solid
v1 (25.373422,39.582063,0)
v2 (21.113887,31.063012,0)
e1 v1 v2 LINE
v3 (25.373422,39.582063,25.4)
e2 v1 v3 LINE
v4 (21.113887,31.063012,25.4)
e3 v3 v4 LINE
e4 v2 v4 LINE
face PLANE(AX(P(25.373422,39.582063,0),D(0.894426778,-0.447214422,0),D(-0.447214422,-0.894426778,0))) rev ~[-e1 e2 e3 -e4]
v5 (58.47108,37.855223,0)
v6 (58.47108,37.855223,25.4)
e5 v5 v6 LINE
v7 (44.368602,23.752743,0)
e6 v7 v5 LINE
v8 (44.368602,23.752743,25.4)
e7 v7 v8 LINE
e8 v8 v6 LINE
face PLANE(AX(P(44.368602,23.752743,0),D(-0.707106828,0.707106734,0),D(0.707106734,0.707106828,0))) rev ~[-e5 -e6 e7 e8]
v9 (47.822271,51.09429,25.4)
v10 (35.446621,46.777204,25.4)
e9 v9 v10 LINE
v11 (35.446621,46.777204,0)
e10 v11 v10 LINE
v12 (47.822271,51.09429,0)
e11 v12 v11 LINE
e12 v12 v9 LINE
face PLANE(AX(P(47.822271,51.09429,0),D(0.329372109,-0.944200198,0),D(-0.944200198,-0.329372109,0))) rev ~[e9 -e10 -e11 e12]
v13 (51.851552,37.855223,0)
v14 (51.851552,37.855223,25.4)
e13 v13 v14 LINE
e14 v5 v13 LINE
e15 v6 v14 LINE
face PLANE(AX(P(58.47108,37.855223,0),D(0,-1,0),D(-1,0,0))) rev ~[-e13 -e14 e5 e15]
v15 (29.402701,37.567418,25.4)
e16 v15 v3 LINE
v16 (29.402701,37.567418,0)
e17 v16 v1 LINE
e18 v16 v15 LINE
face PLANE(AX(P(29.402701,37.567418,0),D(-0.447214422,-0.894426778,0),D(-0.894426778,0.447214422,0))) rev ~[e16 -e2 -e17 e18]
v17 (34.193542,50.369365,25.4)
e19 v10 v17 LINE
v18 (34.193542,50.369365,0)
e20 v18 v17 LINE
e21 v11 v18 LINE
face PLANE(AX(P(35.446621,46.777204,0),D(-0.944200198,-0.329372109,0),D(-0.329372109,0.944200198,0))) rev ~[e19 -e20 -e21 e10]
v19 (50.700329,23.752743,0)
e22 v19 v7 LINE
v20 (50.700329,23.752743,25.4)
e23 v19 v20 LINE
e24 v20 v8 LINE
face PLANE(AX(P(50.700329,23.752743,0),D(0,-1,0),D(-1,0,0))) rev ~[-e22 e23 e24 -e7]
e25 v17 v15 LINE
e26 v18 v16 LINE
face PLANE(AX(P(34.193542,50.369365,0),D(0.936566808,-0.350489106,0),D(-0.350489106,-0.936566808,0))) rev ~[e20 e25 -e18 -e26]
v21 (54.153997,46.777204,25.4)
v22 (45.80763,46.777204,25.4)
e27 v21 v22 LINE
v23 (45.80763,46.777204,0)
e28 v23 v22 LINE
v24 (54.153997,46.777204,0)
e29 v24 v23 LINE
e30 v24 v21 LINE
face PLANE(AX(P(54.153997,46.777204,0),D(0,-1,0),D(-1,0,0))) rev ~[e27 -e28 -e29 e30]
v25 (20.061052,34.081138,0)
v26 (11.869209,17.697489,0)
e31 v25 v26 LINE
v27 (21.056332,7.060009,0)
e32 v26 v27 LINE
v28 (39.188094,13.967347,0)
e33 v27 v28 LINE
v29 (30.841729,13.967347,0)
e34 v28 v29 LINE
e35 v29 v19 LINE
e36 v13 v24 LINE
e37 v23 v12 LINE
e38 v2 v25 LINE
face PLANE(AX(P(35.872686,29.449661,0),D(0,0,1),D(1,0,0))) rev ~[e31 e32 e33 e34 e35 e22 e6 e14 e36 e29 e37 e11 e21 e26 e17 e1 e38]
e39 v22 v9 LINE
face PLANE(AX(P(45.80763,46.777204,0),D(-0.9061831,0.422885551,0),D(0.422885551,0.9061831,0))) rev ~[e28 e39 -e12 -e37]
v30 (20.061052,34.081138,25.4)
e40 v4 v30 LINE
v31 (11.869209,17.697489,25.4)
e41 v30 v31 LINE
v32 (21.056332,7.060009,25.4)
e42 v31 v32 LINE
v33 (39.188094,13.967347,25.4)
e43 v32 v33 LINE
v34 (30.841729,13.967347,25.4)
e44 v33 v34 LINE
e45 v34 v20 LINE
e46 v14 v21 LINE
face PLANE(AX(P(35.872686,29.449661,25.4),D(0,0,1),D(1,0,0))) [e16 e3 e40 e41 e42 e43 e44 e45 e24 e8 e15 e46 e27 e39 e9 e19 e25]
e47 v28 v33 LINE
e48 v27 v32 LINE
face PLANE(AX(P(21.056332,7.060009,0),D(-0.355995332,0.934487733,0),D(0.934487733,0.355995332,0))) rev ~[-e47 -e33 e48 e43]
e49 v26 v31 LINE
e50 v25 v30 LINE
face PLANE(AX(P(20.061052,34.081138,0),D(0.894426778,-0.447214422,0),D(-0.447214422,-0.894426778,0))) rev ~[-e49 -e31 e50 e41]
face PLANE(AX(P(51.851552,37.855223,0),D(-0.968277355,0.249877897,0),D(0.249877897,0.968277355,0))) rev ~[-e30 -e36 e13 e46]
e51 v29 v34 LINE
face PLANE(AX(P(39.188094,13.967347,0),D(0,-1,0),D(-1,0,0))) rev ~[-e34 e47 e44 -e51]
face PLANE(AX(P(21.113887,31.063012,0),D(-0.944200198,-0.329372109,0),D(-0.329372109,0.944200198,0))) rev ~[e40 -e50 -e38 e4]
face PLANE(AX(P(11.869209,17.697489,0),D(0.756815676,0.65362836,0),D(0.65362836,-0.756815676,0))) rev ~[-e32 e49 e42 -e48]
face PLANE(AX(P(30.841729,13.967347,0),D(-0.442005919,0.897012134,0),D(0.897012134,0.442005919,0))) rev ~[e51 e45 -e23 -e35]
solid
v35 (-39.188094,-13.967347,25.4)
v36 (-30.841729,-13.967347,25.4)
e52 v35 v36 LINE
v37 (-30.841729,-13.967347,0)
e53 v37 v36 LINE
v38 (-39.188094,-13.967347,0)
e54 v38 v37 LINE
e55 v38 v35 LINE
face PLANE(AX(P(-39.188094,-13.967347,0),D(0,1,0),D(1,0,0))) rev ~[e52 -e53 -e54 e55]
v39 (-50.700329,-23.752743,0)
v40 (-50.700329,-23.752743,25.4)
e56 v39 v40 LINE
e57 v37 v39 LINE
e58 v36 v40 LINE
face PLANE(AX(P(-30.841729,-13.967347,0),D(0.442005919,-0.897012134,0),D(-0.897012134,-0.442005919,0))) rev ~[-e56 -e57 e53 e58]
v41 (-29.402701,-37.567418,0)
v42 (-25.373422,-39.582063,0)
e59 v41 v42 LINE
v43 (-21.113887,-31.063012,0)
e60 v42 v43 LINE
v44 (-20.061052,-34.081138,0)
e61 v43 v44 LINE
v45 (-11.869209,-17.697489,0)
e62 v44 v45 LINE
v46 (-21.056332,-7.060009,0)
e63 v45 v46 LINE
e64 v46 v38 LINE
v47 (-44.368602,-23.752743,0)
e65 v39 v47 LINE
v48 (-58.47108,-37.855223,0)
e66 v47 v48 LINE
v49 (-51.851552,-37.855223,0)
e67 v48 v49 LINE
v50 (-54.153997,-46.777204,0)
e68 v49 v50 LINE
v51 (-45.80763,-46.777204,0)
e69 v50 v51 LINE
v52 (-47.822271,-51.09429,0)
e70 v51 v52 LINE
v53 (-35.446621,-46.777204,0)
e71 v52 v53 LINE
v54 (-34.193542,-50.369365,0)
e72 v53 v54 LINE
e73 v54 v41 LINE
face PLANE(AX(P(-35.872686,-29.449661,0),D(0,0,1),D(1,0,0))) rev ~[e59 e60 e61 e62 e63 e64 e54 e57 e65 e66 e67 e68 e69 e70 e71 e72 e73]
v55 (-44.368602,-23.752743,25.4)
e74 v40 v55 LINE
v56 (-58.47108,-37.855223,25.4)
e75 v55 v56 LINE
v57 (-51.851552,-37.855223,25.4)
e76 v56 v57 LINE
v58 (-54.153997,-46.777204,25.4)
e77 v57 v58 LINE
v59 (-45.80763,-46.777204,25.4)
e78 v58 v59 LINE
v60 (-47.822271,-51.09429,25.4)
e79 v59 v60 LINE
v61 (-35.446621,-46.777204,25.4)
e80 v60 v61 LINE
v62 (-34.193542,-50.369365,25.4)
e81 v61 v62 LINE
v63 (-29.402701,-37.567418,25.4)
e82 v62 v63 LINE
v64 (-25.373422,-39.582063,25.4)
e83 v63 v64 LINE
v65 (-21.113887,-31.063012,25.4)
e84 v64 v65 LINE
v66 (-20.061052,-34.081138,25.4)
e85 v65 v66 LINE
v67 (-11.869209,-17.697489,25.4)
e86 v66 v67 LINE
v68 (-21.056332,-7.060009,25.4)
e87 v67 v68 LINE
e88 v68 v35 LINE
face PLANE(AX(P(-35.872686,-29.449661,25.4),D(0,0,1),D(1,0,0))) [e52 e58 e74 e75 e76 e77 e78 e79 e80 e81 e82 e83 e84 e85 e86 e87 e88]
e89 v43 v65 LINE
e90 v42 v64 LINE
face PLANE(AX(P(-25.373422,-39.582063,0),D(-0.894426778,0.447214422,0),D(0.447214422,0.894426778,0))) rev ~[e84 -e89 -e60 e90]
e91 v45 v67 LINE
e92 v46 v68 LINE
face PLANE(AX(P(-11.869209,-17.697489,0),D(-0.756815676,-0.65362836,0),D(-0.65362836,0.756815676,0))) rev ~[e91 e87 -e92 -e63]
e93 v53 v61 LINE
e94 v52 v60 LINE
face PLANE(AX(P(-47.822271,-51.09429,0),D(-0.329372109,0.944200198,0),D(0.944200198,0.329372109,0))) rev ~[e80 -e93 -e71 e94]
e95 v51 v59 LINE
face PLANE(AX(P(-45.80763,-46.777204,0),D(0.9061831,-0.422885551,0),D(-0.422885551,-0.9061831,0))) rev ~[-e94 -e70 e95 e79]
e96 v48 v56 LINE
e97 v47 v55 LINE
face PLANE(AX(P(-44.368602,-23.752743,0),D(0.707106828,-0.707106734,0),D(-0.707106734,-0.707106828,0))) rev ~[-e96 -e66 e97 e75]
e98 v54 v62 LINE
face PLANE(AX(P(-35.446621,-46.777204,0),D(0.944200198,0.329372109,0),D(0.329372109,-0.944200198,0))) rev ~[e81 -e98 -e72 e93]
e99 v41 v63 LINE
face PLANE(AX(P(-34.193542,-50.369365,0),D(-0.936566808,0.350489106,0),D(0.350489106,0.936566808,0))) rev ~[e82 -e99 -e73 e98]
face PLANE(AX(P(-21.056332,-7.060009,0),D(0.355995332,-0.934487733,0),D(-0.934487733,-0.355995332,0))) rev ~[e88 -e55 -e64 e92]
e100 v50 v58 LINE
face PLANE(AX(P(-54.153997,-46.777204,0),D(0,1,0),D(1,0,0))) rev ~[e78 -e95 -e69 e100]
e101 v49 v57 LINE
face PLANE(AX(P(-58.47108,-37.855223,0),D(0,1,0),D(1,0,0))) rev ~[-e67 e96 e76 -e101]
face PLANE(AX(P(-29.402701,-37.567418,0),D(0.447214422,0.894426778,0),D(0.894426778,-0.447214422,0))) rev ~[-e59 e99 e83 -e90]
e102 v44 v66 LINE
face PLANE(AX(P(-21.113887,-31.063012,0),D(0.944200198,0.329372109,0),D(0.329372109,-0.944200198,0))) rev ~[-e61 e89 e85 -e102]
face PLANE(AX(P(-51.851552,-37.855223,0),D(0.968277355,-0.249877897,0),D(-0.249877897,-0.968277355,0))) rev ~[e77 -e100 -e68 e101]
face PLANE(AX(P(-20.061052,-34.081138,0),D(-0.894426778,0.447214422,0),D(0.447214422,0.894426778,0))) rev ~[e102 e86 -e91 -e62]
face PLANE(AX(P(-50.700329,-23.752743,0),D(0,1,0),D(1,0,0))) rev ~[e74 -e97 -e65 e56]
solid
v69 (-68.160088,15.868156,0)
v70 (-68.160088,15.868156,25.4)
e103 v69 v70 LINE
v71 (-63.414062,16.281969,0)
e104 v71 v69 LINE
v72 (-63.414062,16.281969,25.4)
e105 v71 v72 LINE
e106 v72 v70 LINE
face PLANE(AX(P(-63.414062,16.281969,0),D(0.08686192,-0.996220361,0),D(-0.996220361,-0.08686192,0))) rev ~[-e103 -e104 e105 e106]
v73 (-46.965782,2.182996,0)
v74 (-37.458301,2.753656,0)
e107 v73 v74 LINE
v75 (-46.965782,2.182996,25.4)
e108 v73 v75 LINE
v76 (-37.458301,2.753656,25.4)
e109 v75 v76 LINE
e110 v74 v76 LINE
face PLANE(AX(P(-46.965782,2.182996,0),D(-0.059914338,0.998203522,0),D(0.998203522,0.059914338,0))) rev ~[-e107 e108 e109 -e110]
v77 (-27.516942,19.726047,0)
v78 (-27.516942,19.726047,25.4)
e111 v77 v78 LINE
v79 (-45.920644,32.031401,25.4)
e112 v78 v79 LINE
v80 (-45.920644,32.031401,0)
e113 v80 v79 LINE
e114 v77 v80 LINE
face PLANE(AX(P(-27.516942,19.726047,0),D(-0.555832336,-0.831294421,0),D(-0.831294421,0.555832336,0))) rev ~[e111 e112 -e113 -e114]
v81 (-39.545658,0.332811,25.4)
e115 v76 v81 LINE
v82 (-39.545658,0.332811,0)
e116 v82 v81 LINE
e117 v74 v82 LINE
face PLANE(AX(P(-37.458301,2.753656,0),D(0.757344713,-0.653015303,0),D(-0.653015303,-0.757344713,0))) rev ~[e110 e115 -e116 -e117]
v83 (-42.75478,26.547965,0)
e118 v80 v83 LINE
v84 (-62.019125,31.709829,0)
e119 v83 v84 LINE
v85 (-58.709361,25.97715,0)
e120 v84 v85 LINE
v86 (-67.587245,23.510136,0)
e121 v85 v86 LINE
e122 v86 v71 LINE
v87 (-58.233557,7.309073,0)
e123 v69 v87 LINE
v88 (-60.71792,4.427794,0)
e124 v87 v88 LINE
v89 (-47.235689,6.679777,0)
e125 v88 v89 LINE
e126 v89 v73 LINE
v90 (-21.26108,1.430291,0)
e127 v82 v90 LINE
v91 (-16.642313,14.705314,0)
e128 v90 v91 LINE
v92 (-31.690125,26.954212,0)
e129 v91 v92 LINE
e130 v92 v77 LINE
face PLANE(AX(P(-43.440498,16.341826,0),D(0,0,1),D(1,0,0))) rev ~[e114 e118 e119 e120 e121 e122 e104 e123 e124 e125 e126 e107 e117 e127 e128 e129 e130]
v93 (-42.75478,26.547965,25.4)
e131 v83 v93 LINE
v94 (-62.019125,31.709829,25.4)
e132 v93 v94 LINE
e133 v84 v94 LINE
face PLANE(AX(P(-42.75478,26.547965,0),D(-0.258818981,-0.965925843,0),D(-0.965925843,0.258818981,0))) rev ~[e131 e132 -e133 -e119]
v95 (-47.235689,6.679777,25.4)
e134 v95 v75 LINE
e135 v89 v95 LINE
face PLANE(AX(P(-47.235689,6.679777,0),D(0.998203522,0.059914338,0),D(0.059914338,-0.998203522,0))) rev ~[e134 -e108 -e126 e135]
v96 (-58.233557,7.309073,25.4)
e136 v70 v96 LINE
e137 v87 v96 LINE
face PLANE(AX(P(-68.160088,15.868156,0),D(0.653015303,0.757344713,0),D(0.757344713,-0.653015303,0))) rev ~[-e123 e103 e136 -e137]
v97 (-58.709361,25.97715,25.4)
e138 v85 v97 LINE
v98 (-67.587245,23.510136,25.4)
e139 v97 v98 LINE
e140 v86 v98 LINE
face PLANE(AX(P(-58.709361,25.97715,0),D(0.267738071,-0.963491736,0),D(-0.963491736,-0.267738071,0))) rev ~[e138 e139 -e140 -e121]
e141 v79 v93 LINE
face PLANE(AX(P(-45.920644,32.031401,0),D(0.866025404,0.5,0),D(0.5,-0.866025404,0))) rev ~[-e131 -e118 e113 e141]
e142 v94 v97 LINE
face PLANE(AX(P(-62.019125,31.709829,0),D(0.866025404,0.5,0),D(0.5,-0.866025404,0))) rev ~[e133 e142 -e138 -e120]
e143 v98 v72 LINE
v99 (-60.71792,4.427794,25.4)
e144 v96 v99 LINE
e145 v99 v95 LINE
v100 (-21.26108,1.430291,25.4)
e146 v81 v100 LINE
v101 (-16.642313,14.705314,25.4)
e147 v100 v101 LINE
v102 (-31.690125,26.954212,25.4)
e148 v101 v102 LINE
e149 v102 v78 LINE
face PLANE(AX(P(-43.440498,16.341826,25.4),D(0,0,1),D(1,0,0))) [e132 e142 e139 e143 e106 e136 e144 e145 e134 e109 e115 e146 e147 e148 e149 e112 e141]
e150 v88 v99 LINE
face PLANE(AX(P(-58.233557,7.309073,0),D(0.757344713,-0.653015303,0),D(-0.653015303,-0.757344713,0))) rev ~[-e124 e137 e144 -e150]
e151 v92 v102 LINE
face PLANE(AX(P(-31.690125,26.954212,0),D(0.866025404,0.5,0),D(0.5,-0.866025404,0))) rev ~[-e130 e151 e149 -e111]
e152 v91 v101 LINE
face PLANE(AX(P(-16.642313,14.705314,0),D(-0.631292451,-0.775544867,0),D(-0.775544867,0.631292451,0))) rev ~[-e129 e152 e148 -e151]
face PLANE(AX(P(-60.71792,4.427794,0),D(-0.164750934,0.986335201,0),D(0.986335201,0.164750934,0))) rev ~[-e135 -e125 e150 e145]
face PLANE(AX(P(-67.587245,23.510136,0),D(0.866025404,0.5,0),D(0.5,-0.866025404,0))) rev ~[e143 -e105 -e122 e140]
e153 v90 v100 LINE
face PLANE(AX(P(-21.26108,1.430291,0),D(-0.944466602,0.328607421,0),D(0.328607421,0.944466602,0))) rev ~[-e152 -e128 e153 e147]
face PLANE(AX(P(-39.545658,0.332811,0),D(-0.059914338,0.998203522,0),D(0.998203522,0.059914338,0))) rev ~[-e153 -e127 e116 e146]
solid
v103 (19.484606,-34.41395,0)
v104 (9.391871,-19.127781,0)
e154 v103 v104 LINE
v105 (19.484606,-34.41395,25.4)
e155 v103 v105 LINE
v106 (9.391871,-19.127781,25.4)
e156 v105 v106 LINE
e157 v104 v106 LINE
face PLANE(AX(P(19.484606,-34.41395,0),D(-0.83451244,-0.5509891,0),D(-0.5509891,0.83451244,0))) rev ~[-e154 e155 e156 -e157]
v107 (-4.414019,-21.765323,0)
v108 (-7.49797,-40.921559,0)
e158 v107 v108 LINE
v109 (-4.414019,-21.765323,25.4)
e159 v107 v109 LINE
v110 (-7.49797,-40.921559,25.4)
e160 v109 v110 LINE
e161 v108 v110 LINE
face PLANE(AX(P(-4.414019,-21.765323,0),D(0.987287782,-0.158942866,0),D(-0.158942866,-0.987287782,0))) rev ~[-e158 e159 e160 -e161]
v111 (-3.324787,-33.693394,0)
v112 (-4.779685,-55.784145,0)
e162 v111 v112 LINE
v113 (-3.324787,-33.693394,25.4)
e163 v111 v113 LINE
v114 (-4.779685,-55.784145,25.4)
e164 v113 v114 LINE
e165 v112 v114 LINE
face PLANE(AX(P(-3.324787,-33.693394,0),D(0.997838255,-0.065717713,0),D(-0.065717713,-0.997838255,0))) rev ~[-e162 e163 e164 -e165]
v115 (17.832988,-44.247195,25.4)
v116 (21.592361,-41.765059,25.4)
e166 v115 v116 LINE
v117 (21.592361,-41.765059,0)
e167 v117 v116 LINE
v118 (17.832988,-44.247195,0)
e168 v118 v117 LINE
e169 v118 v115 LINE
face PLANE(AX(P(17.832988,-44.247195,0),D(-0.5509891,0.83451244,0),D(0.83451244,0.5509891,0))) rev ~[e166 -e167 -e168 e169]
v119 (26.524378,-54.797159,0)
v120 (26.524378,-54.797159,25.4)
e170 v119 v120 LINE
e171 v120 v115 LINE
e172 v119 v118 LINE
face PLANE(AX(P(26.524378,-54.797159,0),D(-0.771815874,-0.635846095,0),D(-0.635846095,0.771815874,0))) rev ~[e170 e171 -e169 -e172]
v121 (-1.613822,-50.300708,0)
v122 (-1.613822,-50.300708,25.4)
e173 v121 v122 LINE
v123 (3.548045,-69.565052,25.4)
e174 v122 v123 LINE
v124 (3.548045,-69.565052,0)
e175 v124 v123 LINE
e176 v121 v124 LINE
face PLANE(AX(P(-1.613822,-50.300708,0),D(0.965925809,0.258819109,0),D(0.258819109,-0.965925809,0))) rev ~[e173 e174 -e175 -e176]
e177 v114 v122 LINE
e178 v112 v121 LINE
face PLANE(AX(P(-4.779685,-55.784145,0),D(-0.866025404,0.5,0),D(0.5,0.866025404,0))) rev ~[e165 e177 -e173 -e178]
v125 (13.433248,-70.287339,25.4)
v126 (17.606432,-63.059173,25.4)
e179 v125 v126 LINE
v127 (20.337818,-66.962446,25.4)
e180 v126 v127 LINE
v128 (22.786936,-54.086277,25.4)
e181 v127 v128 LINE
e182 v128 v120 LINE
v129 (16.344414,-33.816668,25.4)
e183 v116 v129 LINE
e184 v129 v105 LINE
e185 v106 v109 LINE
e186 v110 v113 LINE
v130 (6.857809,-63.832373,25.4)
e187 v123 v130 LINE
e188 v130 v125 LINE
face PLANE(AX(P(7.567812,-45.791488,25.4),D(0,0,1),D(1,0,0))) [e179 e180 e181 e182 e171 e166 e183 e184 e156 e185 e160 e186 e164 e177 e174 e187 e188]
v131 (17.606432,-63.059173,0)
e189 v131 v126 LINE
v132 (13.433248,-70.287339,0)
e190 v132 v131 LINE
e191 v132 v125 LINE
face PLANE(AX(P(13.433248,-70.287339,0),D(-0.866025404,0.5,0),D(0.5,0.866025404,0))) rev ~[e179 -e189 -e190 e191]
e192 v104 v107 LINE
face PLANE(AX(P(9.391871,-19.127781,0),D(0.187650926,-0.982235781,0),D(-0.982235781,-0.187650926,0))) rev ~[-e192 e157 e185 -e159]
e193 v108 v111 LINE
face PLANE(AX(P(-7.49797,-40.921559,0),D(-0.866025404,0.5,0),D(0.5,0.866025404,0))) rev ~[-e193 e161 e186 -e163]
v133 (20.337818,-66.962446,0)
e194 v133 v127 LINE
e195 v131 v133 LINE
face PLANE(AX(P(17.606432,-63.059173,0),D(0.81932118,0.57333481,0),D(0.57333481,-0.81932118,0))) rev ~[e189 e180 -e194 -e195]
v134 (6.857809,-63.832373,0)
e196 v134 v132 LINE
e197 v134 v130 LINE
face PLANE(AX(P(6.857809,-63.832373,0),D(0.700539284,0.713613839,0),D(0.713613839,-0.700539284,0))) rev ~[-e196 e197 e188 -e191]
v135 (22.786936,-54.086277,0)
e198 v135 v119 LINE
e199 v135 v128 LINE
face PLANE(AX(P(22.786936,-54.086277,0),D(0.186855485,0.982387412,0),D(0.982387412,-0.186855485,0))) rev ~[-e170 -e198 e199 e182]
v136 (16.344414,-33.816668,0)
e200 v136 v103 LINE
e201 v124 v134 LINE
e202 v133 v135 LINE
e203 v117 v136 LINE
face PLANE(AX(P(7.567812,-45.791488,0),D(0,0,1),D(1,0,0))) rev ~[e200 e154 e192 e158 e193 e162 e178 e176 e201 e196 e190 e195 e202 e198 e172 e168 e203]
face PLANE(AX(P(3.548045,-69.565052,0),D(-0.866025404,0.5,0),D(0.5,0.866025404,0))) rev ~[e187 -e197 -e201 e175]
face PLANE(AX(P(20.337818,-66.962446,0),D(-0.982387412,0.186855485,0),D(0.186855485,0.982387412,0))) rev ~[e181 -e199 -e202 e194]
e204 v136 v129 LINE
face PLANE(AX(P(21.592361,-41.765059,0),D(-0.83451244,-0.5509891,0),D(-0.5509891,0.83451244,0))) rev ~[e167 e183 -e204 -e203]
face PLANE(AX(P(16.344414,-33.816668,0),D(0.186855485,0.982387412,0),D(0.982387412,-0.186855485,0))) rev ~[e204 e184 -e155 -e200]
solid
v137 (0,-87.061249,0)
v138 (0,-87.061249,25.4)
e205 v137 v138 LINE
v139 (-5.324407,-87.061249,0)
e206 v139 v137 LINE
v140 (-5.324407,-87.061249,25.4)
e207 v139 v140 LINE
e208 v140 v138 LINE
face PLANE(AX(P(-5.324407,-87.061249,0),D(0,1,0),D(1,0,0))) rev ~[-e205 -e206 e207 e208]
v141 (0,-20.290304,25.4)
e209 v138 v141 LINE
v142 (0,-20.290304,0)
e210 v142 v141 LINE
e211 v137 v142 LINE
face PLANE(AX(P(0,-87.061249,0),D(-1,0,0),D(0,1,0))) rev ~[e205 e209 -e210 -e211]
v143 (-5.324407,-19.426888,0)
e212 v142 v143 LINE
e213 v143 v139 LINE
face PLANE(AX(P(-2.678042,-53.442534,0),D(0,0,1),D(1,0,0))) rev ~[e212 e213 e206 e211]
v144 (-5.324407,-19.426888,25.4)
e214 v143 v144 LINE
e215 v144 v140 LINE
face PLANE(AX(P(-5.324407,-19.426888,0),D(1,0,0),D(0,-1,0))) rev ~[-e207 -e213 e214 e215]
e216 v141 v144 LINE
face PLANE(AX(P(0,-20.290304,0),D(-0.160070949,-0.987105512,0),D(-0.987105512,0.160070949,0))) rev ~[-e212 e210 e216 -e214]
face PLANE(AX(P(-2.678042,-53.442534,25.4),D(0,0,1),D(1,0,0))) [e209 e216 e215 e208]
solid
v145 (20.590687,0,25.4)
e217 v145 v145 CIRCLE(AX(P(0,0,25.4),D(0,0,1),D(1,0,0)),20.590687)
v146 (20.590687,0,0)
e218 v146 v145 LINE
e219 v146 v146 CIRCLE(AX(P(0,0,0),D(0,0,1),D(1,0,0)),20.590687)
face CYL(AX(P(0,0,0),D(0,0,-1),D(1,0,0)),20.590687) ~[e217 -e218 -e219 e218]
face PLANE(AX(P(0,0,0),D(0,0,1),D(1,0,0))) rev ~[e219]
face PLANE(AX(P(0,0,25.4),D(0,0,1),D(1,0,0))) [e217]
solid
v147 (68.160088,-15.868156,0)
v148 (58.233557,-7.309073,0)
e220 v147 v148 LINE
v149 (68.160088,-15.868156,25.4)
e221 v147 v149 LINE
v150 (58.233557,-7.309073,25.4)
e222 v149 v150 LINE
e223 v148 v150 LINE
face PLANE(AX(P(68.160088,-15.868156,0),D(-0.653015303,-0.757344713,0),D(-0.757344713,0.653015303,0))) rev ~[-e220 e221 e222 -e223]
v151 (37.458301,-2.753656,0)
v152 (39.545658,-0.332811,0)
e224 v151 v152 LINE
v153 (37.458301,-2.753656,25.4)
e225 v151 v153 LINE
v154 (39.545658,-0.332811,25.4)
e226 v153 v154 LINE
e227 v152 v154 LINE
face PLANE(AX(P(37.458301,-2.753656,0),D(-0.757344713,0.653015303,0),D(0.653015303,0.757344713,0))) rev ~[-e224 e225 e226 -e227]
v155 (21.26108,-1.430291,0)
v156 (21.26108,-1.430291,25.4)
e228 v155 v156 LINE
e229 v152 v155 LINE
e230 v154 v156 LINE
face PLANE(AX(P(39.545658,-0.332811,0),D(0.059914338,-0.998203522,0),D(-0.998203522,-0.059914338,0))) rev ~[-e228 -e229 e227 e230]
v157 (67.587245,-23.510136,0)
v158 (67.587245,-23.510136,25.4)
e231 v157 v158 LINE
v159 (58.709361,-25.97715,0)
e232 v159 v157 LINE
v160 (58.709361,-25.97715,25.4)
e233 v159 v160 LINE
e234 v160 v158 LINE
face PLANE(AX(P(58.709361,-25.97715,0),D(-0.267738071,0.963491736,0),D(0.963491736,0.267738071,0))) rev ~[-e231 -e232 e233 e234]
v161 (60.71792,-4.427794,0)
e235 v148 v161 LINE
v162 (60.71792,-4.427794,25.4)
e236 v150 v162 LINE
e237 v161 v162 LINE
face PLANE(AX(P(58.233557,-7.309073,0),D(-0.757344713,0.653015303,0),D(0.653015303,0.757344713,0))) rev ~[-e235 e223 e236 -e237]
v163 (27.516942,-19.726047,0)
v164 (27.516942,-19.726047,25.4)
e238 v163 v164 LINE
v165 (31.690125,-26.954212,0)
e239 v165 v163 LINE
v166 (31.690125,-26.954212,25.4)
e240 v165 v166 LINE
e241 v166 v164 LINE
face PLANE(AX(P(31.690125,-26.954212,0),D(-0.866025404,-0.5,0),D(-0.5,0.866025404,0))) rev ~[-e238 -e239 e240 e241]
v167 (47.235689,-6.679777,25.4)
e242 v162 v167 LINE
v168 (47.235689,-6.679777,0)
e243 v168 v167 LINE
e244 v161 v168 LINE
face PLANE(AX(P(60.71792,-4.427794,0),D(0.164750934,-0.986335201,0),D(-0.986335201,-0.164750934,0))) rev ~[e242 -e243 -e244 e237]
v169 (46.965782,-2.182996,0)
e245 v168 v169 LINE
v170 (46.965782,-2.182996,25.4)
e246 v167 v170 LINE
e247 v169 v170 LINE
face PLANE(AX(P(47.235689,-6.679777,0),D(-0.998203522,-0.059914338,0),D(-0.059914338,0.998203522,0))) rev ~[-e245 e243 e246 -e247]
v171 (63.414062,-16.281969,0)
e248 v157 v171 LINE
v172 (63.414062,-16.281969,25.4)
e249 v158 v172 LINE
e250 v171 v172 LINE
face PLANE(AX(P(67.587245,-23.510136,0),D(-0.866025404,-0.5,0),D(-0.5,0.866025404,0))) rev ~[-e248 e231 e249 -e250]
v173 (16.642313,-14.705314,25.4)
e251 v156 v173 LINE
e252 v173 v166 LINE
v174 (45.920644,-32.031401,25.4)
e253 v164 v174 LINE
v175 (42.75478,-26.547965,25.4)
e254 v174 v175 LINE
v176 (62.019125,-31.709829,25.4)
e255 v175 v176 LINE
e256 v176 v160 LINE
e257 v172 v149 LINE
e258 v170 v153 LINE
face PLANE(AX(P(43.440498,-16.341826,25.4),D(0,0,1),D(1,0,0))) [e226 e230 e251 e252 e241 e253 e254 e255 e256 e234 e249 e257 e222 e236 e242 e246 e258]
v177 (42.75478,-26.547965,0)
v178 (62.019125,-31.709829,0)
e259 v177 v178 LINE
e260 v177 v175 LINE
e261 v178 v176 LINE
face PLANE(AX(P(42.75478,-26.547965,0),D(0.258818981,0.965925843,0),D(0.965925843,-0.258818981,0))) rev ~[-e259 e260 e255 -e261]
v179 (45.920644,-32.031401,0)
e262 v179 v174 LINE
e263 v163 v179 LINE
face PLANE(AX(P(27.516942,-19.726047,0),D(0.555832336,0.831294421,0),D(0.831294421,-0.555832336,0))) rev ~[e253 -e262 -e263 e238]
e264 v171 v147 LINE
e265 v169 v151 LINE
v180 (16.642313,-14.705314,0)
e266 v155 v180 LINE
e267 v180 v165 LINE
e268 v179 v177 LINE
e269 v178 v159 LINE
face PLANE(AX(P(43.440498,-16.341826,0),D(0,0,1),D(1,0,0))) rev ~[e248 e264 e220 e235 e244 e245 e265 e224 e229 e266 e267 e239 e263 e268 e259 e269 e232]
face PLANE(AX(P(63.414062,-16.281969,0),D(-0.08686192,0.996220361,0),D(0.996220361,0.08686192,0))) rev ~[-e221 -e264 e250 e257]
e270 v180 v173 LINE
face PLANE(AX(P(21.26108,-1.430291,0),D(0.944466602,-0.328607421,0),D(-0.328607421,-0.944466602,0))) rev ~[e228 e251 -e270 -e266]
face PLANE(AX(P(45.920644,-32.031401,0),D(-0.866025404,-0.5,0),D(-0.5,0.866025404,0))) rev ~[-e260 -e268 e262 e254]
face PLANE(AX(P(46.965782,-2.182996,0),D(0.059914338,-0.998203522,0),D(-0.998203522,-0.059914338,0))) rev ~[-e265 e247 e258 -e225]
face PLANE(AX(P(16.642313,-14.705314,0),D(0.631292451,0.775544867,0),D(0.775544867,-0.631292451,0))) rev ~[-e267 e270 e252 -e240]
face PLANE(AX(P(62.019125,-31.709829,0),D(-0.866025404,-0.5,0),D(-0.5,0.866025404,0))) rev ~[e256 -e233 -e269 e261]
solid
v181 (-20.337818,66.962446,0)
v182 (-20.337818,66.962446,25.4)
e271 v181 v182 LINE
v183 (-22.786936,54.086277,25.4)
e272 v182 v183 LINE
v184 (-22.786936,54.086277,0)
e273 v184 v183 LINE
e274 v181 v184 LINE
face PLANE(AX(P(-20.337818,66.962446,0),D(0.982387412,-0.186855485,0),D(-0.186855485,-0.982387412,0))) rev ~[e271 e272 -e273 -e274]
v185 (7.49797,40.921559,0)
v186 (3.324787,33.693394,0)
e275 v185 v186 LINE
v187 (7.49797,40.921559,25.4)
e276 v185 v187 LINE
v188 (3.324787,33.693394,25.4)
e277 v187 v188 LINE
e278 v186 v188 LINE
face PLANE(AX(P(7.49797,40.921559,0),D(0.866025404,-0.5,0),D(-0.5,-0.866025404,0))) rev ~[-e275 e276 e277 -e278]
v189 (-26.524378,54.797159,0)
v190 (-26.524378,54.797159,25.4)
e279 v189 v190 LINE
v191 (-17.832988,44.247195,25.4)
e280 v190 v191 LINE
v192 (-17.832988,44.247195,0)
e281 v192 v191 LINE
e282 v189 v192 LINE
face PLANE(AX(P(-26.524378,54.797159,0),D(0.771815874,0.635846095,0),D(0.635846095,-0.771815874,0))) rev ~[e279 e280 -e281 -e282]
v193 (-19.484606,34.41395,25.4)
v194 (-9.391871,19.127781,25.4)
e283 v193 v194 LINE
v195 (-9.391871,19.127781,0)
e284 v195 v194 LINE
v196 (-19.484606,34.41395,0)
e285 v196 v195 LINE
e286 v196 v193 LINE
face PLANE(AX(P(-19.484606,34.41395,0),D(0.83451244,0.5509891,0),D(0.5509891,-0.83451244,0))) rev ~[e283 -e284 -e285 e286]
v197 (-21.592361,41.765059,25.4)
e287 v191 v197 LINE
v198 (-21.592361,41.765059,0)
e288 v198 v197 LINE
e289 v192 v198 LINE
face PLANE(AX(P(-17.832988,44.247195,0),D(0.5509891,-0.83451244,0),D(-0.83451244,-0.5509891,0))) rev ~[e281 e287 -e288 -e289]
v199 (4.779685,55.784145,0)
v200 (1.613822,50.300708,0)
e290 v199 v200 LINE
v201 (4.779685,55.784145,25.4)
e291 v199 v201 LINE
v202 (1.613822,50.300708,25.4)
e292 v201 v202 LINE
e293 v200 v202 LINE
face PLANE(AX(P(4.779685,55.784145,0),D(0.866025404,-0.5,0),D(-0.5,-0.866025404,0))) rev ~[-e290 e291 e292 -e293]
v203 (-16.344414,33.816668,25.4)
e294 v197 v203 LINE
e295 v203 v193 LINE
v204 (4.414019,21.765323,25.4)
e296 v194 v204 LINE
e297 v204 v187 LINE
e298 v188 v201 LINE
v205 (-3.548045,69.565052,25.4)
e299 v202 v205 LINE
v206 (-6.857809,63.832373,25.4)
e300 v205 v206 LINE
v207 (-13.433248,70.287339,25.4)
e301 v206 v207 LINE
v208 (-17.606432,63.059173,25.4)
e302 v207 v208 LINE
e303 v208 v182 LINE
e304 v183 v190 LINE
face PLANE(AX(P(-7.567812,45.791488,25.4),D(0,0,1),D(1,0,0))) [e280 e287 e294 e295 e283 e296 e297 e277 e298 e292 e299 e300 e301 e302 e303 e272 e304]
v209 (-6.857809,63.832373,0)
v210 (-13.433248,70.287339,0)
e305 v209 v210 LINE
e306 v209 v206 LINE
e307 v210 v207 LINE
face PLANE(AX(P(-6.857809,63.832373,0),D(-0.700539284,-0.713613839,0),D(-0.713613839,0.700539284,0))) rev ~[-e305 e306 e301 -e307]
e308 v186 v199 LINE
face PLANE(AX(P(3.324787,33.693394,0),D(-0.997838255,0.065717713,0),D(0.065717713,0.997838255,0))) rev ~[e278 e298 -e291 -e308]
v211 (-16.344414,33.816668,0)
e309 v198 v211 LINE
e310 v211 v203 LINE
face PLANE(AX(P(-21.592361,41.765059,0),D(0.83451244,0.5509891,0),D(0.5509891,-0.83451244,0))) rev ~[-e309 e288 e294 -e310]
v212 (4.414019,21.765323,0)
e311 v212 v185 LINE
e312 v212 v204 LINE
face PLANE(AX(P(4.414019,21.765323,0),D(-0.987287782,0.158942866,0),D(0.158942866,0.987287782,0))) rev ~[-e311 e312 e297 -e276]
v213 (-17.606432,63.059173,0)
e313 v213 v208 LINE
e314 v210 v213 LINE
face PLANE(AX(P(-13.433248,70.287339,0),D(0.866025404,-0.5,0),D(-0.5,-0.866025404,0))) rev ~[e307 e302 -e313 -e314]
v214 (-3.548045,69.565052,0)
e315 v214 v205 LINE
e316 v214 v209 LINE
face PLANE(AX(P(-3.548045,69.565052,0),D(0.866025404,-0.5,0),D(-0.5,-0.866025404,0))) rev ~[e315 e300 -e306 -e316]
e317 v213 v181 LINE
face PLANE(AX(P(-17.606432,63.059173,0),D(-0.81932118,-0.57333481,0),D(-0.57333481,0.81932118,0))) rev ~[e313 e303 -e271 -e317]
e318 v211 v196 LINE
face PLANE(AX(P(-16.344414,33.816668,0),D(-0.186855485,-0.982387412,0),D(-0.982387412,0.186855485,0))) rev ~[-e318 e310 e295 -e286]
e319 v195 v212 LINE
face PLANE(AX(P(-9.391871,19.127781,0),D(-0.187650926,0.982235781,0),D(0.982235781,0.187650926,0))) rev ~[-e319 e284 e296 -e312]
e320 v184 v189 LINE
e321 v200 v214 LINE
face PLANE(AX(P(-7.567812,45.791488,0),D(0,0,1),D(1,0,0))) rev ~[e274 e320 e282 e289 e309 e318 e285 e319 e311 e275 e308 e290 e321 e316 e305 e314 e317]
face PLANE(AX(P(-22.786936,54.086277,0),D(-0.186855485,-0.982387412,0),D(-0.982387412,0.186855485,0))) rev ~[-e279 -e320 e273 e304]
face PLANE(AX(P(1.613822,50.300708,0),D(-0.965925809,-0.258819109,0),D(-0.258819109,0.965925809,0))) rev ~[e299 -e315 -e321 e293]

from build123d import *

# Parameters (mm, degrees)
F2_DEPTH = 25.4
F0_R     = 20.5906873936
F4_DEPTH = 25.4


with BuildPart() as f2:
    # F1 (on Top) → F2 (new body)
    with BuildSketch(Plane.XY):
        Polygon((-17.83298781, 44.2471951997), (-21.5923608654, 41.765058951), (-16.3444144081, 33.8166683183), (-19.4846056894, 34.4139499588), (-9.3918710847, 19.1277808177), (4.4140186546, 21.765322685), (7.4979696061, 40.9215589741), (3.3247867238, 33.6933941926), (4.7796854469, 55.7841447948), (1.6138219926, 50.3007084421), (-3.5480446712, 69.5650520044), (-6.8578086392, 63.8323726508), (-13.4332479786, 70.2873393486), (-17.6064317922, 63.059172954), (-20.3378177437, 66.9624460909), (-22.7869359653, 54.0862765175), (-26.5243781157, 54.7971585558), align=None)
    extrude(amount=F2_DEPTH)


with BuildPart() as f2b:
    # F1 (on Top) → F2, piece 2 (new body)
    with BuildSketch(Plane.XY):
        Polygon((-47.2356889941, 6.679777131), (-46.9657824748, 2.1829964384), (-37.4583010391, 2.7536560717), (-39.5456577536, 0.3328114697), (-21.2610796485, 1.4302914604), (-16.6423130395, 14.7053136302), (-31.690124831, 26.9542116428), (-27.5169419486, 19.7260468612), (-45.9206437972, 32.0314014165), (-42.7547803429, 26.5479650638), (-62.019124587, 31.7098291831), (-58.709360619, 25.9771498295), (-67.5872454296, 23.5101356696), (-63.4140616159, 16.2819692749), (-68.1600882861, 15.8681562218), (-58.2335574429, 7.3090728384), (-60.7179204224, 4.4277940102), align=None)
    extrude(amount=F2_DEPTH)


with BuildPart() as f2c:
    # F1 (on Top) → F2, piece 3 (new body)
    with BuildSketch(Plane.XY):
        Polygon((11.8692085638, 17.6974893572), (21.0563316941, 7.0600090548), (39.1880944371, 13.9673473313), (30.8417286724, 13.9673473313), (50.7003292441, 23.7527433783), (44.3686023355, 23.7527433783), (58.4710799158, 37.8552228212), (51.8515519798, 37.8552228212), (54.1539974511, 46.7772036791), (45.8076298237, 46.7772036791), (47.8222705424, 51.0942898691), (35.4466214776, 46.7772036791), (34.1935423067, 50.3693645457), (29.4027011842, 37.5674180686), (25.3734216094, 39.5820625126), (21.113886631, 31.0630122466), (20.0610520642, 34.0811384892), align=None)
    extrude(amount=F2_DEPTH)


with BuildPart() as f2d:
    # F1 (on Top) → F2, piece 4 (new body)
    with BuildSketch(Plane.XY):
        Polygon((47.2356889941, -6.679777131), (46.9657824748, -2.1829964384), (37.4583010391, -2.7536560717), (39.5456577536, -0.3328114697), (21.2610796485, -1.4302914604), (16.6423130395, -14.7053136302), (31.690124831, -26.9542116428), (27.5169419486, -19.7260468612), (45.9206437972, -32.0314014165), (42.7547803429, -26.5479650638), (62.019124587, -31.7098291831), (58.709360619, -25.9771498295), (67.5872454296, -23.5101356696), (63.4140616159, -16.2819692749), (68.1600882861, -15.8681562218), (58.2335574429, -7.3090728384), (60.7179204224, -4.4277940102), align=None)
    extrude(amount=F2_DEPTH)


with BuildPart() as f2e:
    # F1 (on Top) → F2, piece 5 (new body)
    with BuildSketch(Plane.XY):
        Polygon((17.83298781, -44.2471951997), (21.5923608654, -41.765058951), (16.3444144081, -33.8166683183), (19.4846056894, -34.4139499588), (9.3918710847, -19.1277808177), (-4.4140186546, -21.765322685), (-7.4979696061, -40.9215589741), (-3.3247867238, -33.6933941926), (-4.7796854469, -55.7841447948), (-1.6138219926, -50.3007084421), (3.5480446712, -69.5650520044), (6.8578086392, -63.8323726508), (13.4332479786, -70.2873393486), (17.6064317922, -63.059172954), (20.3378177437, -66.9624460909), (22.7869359653, -54.0862765175), (26.5243781157, -54.7971585558), align=None)
    extrude(amount=F2_DEPTH)


with BuildPart() as f2f:
    # F1 (on Top) → F2, piece 6 (new body)
    with BuildSketch(Plane.XY):
        Polygon((-29.4027011842, -37.5674180686), (-25.3734216094, -39.5820625126), (-21.113886631, -31.0630122466), (-20.0610520642, -34.0811384892), (-11.8692085638, -17.6974893572), (-21.0563316941, -7.0600090548), (-39.1880944371, -13.9673473313), (-30.8417286724, -13.9673473313), (-50.7003292441, -23.7527433783), (-44.3686023355, -23.7527433783), (-58.4710799158, -37.8552228212), (-51.8515519798, -37.8552228212), (-54.1539974511, -46.7772036791), (-45.8076298237, -46.7772036791), (-47.8222705424, -51.0942898691), (-35.4466214776, -46.7772036791), (-34.1935423067, -50.3693645457), align=None)
    extrude(amount=F2_DEPTH)


with BuildPart() as f2g:
    # F0 (on Top) → F2, piece 7 (new body)
    with BuildSketch(Plane.XY):
        Circle(F0_R)
    extrude(amount=F2_DEPTH)


with BuildPart() as f4:
    # F3 (on Top) → F4 (new body)
    with BuildSketch(Plane.XY):
        Polygon((0, -20.2903039753), (-5.3244065493, -19.4268878549), (-5.3244065493, -87.0612487197), (0, -87.0612487197), align=None)
    extrude(amount=F4_DEPTH)


solid = Compound([f2.part, f2b.part, f2c.part, f2d.part, f2e.part, f2f.part, f2g.part, f4.part])
